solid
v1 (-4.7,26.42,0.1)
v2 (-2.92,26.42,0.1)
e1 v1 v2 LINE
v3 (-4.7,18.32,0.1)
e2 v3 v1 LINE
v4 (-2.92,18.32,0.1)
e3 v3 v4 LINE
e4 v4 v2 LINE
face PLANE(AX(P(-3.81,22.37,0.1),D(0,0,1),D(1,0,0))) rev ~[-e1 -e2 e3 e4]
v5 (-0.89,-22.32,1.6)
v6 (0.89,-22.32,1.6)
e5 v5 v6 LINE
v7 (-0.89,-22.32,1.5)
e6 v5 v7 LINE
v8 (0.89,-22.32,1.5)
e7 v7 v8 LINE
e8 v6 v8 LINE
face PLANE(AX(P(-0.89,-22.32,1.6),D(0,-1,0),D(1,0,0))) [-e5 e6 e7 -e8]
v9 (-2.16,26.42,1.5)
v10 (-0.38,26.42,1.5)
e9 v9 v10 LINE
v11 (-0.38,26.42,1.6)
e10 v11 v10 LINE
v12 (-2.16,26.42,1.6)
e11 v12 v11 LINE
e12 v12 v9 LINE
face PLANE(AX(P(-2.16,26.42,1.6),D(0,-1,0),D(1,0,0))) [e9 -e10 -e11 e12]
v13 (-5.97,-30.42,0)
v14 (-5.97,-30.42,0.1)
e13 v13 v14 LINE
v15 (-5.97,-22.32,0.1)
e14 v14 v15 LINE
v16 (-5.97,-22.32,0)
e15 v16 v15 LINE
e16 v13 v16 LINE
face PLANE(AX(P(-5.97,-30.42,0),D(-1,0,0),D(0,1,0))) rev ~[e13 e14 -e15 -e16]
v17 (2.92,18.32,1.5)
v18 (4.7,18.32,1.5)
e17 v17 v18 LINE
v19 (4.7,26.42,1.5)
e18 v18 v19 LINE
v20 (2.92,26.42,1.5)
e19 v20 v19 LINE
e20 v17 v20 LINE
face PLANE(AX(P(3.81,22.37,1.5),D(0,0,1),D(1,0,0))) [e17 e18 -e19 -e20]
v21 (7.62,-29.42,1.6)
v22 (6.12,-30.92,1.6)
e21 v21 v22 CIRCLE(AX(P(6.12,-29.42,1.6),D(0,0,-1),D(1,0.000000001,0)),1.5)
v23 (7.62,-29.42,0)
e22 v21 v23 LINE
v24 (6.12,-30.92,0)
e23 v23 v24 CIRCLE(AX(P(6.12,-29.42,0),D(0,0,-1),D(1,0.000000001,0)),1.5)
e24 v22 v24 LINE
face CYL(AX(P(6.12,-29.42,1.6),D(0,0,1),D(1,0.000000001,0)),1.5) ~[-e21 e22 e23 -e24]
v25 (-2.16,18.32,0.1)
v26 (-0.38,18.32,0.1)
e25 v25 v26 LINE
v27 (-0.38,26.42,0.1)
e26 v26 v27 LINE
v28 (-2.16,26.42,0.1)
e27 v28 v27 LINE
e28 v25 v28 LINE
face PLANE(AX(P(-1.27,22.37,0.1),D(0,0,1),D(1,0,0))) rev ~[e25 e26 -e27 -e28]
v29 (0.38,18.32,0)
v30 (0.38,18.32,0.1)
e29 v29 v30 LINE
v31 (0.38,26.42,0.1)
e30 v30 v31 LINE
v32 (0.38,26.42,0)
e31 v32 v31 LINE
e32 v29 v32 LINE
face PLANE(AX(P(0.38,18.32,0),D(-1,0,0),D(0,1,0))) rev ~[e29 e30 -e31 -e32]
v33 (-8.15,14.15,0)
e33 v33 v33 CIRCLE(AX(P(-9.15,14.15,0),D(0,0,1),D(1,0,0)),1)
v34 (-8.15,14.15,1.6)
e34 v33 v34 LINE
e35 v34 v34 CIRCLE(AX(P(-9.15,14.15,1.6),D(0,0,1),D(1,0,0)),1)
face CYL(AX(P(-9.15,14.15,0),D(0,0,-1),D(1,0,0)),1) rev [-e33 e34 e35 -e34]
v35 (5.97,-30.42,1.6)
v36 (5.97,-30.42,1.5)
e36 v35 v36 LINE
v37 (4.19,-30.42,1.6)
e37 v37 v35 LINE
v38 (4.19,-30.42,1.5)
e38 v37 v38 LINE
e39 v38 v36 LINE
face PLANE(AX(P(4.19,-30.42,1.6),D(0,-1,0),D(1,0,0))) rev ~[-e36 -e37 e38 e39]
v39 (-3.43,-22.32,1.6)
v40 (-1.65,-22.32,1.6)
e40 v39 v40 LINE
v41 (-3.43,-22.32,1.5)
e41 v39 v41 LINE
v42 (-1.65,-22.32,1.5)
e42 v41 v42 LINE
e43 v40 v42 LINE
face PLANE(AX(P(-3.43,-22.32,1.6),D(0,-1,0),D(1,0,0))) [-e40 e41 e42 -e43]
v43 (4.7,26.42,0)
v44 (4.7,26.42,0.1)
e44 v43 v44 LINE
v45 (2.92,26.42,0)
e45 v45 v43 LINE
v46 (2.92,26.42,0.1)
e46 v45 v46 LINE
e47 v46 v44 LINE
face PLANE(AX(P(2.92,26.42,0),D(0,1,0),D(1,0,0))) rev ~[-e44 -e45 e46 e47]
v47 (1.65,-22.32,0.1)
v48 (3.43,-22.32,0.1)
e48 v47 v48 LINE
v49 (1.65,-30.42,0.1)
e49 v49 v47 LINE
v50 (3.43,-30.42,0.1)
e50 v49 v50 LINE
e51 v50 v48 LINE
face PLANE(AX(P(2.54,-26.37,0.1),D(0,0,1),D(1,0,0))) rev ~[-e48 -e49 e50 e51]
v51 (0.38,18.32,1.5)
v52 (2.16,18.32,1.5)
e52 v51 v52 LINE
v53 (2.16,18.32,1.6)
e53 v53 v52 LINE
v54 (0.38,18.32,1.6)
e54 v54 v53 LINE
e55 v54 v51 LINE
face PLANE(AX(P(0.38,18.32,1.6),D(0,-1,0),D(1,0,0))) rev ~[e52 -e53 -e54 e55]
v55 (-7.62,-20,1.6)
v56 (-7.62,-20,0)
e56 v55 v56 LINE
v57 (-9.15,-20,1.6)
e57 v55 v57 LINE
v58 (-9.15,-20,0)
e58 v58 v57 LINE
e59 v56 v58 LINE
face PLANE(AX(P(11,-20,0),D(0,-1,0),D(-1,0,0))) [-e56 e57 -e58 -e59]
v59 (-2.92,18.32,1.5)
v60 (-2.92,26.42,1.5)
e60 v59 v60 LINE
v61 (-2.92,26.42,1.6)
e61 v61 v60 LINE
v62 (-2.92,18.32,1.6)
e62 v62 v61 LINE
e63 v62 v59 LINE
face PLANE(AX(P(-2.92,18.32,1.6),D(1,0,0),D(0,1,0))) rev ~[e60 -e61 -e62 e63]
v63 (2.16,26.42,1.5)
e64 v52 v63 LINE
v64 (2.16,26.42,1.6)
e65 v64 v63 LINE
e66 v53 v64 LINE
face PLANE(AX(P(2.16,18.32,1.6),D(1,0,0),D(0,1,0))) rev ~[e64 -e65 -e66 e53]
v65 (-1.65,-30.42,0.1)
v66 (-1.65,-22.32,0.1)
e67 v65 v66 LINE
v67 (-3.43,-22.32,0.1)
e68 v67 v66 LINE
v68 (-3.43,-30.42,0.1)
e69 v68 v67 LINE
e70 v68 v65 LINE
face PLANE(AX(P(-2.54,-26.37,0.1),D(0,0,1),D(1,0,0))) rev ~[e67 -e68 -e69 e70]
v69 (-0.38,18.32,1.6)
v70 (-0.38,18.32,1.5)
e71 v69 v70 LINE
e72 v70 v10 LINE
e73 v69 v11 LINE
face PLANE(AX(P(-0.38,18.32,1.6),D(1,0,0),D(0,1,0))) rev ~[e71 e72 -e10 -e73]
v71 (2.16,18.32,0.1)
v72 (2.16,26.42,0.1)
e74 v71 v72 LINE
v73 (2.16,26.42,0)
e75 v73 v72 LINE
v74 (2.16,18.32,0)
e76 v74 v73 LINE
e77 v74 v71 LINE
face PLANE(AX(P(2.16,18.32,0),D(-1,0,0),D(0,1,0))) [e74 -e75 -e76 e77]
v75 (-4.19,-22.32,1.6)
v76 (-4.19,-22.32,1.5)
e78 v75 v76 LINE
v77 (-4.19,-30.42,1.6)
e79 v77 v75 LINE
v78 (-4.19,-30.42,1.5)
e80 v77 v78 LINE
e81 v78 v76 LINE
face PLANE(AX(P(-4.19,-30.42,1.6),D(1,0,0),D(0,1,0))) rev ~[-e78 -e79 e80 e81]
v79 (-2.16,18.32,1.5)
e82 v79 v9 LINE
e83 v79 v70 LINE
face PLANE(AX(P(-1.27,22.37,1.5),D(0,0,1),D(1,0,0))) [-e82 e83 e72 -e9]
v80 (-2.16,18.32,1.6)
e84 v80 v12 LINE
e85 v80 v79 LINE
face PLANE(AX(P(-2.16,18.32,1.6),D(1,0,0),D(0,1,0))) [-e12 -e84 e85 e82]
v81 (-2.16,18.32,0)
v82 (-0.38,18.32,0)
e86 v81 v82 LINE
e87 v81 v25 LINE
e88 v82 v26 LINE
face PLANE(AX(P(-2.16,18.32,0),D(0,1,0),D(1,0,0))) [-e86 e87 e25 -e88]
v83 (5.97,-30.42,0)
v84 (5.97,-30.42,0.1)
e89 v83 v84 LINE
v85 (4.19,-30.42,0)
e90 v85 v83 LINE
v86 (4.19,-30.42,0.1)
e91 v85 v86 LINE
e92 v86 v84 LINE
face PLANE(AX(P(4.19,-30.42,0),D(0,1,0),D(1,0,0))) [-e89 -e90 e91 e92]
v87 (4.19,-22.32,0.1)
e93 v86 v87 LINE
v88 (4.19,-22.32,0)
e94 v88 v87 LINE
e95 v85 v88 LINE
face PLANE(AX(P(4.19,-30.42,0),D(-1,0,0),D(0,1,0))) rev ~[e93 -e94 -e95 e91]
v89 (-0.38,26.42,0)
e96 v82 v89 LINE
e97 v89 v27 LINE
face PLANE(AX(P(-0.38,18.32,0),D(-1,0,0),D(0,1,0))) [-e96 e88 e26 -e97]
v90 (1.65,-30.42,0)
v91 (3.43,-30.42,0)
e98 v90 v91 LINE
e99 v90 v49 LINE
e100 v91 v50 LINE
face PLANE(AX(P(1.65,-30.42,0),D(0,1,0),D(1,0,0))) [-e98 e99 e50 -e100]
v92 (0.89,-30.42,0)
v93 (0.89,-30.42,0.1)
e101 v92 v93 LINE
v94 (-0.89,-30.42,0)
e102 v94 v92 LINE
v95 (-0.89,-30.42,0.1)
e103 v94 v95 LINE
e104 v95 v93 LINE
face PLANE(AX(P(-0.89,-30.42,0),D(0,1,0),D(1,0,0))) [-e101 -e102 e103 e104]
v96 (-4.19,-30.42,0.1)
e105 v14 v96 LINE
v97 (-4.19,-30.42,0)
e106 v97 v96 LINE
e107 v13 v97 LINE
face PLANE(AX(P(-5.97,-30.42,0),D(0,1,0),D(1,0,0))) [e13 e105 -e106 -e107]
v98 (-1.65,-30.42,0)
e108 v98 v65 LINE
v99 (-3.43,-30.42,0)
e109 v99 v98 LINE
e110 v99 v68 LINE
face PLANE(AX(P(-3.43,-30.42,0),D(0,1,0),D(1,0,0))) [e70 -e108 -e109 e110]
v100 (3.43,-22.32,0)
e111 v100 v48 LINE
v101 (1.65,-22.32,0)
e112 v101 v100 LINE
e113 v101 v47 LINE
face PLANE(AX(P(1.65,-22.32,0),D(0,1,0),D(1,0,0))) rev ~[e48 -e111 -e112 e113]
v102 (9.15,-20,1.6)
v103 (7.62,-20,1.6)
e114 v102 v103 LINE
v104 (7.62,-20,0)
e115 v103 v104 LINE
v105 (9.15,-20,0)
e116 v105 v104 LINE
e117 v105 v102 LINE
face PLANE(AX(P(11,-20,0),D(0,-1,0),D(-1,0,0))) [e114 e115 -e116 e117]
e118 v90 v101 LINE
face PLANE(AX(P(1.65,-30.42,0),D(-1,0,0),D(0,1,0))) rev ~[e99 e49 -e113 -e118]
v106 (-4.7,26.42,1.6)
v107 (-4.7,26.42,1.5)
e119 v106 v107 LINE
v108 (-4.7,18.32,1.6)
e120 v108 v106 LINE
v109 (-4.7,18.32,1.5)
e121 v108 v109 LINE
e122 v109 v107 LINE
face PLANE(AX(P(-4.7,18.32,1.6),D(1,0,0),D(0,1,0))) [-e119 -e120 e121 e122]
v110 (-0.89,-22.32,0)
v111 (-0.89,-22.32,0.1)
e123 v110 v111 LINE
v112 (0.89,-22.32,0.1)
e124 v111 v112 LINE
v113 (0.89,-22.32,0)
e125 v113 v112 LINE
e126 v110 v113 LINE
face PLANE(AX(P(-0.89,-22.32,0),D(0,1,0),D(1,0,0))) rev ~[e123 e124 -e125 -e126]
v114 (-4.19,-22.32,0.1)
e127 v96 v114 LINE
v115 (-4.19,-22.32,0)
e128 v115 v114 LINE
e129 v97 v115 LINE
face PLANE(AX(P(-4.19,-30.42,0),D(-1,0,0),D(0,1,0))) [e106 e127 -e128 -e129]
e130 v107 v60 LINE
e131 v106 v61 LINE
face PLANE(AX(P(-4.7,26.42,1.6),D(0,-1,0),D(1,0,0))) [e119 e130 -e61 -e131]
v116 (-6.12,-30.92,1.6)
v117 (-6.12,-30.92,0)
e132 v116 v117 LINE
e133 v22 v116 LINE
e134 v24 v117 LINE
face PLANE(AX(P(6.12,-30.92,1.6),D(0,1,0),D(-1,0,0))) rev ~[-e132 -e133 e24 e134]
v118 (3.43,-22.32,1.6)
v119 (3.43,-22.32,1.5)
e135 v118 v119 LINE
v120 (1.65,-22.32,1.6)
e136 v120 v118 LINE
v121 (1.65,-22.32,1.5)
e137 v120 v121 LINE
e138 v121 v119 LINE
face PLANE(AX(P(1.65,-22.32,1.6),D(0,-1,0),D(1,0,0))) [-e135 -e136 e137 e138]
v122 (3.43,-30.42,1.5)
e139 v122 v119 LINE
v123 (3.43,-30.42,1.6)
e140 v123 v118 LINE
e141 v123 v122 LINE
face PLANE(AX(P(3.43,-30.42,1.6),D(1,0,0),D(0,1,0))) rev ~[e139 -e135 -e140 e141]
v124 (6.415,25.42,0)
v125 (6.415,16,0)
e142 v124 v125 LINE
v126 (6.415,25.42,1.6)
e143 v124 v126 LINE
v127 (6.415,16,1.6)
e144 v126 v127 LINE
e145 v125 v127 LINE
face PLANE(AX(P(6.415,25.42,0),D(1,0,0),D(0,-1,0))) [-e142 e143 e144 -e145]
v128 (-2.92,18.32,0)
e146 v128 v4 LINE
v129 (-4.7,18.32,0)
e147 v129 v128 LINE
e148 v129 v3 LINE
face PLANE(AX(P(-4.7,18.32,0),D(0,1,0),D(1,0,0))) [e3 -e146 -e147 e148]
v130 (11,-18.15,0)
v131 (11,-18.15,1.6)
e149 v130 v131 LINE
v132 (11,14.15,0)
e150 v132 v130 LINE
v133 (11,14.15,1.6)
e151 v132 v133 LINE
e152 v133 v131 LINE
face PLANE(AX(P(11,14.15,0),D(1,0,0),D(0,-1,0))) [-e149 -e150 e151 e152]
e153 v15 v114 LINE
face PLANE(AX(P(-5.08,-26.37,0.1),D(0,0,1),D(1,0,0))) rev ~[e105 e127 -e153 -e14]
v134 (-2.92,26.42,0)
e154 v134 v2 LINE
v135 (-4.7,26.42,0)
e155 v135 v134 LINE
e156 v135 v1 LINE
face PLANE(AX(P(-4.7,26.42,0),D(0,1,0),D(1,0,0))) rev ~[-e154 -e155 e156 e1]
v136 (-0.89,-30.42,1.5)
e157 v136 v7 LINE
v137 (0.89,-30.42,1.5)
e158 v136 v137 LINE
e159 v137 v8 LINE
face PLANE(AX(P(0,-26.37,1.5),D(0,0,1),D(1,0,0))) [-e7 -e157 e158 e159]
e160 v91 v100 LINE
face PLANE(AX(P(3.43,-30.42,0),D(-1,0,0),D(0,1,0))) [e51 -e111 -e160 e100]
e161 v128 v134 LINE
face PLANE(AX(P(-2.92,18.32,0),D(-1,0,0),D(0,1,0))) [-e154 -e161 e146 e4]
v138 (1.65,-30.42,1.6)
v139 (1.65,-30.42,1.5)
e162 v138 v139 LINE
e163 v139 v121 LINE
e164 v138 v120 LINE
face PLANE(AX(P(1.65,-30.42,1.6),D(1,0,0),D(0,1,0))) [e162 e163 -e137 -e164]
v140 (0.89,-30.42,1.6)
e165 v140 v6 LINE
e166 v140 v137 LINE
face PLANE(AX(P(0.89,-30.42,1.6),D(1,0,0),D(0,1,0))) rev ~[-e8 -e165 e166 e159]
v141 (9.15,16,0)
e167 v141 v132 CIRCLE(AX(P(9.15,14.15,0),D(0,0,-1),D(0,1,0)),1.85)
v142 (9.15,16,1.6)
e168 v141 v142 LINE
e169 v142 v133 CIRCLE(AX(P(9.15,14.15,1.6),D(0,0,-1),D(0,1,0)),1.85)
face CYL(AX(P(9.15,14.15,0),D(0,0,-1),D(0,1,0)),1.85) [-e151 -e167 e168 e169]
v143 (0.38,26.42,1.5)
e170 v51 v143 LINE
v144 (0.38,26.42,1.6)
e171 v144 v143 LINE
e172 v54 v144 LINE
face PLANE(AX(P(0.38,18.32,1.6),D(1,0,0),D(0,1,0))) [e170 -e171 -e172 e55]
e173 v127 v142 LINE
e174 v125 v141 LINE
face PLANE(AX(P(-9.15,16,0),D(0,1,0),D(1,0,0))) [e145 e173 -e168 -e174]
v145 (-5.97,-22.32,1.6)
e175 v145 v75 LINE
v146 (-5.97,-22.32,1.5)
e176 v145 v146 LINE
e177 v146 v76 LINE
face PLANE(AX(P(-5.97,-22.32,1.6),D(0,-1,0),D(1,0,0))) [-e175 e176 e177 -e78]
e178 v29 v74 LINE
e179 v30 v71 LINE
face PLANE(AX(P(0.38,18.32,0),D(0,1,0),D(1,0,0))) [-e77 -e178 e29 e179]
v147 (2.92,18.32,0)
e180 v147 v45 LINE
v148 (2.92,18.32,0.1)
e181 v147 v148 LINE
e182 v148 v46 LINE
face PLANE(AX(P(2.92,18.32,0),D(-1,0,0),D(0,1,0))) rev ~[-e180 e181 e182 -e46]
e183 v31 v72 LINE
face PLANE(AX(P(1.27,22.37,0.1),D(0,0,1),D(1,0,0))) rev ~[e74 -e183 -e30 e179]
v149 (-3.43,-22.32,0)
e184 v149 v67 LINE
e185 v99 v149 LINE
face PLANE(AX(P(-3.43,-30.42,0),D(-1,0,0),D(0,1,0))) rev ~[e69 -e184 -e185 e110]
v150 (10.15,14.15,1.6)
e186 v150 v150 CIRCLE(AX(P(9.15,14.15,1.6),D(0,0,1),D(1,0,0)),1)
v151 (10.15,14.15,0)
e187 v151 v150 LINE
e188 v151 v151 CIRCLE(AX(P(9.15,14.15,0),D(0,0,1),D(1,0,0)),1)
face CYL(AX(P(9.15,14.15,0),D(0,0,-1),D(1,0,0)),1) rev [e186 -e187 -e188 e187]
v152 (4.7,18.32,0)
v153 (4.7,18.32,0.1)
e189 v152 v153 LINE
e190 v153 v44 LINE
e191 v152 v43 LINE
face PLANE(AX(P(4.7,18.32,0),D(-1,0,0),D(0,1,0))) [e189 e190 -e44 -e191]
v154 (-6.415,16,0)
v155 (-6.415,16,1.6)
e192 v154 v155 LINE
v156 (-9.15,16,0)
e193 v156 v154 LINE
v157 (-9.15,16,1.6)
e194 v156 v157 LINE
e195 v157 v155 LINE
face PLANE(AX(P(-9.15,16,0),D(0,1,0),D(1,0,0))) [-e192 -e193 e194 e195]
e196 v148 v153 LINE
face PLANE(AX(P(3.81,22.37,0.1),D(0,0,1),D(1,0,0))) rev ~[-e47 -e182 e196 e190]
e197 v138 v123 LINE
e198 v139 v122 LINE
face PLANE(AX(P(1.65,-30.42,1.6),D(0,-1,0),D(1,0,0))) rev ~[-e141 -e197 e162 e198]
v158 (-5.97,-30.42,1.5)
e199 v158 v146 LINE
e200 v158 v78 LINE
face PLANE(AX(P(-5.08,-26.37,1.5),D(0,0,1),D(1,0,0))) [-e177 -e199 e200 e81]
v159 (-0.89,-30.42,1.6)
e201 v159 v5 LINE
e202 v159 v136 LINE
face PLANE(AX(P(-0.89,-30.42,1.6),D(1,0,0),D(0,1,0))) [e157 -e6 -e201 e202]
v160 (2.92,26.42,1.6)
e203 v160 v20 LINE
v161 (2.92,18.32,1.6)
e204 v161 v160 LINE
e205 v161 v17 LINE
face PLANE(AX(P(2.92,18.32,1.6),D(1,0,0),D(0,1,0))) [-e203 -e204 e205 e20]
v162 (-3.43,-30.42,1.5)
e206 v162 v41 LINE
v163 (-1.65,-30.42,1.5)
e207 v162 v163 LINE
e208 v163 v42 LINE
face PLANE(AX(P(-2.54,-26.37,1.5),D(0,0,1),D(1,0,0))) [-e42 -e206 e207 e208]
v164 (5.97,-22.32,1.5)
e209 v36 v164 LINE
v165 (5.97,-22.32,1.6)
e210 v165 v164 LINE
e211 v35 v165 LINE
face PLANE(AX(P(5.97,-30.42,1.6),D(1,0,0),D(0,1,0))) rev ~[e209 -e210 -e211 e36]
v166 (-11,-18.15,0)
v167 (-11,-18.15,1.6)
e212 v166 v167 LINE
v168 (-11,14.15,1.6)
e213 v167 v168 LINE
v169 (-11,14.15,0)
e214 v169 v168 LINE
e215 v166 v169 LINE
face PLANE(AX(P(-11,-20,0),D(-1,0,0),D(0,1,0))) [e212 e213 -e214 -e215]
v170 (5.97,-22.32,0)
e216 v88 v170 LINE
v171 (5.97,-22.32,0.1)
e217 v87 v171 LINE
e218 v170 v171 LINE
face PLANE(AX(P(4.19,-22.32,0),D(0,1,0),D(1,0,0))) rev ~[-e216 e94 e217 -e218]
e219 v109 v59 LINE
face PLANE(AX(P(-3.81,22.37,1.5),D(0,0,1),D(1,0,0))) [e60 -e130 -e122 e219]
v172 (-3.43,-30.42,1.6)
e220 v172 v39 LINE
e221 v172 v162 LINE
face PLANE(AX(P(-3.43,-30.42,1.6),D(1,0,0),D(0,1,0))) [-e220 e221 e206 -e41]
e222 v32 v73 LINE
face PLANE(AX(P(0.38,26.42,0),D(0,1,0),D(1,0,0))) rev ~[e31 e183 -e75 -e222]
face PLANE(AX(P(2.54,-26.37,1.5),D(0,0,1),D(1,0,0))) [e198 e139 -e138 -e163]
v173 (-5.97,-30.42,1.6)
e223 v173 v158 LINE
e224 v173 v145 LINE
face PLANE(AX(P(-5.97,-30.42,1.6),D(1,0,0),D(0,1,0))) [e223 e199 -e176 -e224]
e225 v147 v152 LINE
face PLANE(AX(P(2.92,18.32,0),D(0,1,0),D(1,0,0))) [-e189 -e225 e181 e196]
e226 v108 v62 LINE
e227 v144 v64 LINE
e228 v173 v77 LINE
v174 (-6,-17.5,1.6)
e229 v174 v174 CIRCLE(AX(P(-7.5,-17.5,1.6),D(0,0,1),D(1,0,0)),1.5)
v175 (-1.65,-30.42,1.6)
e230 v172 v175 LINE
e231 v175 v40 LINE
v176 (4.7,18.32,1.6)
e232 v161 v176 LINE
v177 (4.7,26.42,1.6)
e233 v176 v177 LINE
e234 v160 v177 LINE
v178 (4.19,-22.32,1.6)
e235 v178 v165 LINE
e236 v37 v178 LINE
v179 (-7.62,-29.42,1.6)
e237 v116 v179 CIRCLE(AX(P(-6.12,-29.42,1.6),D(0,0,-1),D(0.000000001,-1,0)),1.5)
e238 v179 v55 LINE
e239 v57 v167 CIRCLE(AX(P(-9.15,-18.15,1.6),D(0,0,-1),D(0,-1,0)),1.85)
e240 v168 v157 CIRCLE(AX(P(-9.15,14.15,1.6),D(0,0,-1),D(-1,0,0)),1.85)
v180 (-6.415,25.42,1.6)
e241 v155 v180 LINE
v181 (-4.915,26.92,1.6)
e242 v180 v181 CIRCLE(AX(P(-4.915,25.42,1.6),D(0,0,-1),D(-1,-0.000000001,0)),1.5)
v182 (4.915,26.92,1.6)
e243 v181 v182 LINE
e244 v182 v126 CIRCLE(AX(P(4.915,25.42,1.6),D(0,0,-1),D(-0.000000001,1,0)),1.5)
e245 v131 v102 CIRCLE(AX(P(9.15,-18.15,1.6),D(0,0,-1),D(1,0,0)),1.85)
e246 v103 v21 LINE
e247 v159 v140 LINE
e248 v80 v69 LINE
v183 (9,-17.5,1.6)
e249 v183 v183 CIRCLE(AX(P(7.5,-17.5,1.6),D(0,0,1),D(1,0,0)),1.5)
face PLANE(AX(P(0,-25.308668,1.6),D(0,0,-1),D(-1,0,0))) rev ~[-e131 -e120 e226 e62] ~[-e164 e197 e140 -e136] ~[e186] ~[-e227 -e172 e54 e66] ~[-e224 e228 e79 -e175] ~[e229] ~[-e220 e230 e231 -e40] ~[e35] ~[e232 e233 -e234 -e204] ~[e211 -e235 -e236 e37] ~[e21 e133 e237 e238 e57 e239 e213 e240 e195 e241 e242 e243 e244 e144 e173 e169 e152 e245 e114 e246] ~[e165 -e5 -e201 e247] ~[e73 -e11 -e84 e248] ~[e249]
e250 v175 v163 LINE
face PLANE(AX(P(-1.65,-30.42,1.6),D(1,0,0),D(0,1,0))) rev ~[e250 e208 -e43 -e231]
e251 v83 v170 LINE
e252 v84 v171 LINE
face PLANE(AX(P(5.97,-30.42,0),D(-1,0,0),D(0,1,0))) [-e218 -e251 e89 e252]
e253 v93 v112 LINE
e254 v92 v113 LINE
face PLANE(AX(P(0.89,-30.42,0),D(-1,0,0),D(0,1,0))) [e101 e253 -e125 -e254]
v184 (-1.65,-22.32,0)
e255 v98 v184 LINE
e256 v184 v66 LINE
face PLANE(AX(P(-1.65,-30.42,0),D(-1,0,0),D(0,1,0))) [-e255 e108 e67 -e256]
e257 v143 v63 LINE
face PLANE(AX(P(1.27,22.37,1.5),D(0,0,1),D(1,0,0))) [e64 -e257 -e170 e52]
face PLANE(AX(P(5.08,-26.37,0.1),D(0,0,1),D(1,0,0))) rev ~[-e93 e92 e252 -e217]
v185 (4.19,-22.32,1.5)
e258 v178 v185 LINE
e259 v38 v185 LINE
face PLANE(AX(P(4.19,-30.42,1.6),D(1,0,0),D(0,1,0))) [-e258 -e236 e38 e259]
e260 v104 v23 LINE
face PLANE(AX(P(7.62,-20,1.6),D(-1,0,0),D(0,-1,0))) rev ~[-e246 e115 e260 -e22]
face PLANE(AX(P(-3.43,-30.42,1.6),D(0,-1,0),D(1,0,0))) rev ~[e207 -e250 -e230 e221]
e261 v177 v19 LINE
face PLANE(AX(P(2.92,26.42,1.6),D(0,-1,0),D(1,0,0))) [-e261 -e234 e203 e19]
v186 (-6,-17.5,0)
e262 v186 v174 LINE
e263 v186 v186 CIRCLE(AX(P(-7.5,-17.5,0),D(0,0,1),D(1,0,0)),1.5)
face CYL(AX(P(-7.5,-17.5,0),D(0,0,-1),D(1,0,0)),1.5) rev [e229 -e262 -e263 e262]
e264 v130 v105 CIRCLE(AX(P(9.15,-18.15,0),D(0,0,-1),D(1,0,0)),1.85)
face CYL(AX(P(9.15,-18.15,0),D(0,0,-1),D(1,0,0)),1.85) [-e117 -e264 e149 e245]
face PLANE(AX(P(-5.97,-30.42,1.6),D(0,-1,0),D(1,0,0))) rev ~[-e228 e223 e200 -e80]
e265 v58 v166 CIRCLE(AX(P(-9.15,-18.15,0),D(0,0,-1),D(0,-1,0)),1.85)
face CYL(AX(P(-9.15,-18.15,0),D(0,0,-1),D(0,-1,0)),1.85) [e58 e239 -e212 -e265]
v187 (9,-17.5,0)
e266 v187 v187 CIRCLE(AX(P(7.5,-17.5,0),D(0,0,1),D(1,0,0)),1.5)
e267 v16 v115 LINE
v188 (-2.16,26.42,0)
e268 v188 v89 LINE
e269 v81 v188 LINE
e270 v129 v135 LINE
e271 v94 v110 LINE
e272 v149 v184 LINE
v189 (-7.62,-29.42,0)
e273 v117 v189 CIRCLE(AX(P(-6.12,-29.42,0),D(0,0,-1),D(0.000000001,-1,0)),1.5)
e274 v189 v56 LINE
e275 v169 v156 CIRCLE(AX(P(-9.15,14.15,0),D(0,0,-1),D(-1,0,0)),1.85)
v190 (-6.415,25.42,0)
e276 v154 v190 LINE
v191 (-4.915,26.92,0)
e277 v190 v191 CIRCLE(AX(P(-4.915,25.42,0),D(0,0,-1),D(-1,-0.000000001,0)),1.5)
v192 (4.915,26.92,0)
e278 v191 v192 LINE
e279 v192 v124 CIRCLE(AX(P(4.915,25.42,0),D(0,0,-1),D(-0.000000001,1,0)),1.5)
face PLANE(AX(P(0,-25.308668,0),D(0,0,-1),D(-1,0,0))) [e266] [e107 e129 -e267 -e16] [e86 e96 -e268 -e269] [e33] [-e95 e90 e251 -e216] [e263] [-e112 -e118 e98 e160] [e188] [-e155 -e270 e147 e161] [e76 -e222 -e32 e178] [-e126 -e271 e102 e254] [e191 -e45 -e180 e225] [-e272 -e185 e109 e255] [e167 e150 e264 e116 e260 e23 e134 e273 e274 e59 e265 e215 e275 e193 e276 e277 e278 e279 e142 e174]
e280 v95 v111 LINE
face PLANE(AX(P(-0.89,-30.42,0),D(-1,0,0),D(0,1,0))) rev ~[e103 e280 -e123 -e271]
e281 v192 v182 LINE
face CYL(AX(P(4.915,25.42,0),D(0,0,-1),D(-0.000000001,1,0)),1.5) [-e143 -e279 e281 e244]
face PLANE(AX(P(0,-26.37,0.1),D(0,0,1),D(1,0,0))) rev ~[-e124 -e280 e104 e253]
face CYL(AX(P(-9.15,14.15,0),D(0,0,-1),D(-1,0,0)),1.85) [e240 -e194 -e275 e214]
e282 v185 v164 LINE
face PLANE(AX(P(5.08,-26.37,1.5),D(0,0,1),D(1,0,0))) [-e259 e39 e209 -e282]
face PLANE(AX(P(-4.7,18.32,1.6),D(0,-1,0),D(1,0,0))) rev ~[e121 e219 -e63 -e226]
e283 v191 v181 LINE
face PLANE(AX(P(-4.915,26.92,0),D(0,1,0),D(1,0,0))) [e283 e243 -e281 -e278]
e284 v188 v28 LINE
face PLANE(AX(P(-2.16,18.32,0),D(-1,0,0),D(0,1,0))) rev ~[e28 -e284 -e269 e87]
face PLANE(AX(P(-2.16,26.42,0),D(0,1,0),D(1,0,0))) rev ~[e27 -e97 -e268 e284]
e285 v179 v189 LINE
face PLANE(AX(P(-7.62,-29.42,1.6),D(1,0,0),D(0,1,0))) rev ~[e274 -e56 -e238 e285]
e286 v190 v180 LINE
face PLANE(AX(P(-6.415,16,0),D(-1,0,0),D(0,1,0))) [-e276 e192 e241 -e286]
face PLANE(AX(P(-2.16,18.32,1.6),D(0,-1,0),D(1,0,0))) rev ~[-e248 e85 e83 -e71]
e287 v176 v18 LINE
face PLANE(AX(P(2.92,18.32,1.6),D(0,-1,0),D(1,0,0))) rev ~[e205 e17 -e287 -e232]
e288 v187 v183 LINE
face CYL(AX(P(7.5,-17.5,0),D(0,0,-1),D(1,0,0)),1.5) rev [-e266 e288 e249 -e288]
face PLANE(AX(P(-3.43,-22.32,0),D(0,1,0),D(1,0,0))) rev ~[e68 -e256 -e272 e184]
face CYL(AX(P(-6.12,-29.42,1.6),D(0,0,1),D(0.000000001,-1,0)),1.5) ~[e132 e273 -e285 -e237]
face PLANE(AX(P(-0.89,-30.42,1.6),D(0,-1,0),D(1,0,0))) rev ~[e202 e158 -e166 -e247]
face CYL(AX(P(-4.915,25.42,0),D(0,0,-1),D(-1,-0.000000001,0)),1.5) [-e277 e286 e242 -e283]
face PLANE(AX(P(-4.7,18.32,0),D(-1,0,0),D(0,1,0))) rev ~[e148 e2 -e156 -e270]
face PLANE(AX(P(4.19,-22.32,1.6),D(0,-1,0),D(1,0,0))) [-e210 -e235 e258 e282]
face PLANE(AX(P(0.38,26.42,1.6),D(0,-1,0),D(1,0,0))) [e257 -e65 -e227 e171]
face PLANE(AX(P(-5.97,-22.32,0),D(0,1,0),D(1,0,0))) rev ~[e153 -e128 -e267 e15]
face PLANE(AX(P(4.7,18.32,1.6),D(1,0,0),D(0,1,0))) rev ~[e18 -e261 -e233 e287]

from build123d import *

# Parameters (mm, degrees)
SKETCH_1_R          = 1
EXTRUDE_1_DEPTH     = 1.6
SKETCH_3_R          = 1.5
CUT_EXTRUDE_1_DEPTH = 1.6
CUT_EXTRUDE_2_DEPTH = 1.6
EXTRUDE_2_DEPTH     = 1.6
SKETCH_8_W          = 1.78
SKETCH_8_H          = 8.1
CUT_EXTRUDE_3_DEPTH = 0.1
CUT_EXTRUDE_START   = 1.6
SKETCH_9_W          = 1.78
SKETCH_9_H          = 8.1
CUT_EXTRUDE_4_DEPTH = 0.1
EXTRUDE_START       = 1.6
EXTRUDE_3_DEPTH     = 1.6
SKETCH_12_W         = 1.78
SKETCH_12_H         = 8.1
CUT_EXTRUDE_5_DEPTH = 0.1
SKETCH_13_W         = 1.78
SKETCH_13_H         = 8.1
CUT_EXTRUDE_6_DEPTH = 0.1


with BuildPart() as part:
    # 草图1 → 凸台-拉伸1 (new body)
    with BuildSketch(Plane.XY):
        with BuildLine():
            Line((-9.15, 16), (9.15, 16))
            ThreePointArc((9.15, 16), (10.458147545, 15.458147545), (11, 14.15))
            Line((11, 14.15), (11, -20))
            Line((11, -20), (-11, -20))
            Line((-11, -20), (-11, 14.15))
            ThreePointArc((-11, 14.15), (-10.458147545, 15.458147545), (-9.15, 16))
        make_face()
        with Locations((-9.15, 14.15)):
            Circle(SKETCH_1_R, mode=Mode.SUBTRACT)
        with Locations((9.15, 14.15)):
            Circle(SKETCH_1_R, mode=Mode.SUBTRACT)
    extrude(amount=EXTRUDE_1_DEPTH)

    # 草图3 → 切除-拉伸1 (cut)
    with BuildSketch(Plane.XY):
        with Locations((-7.5, -17.5)):
            Circle(SKETCH_3_R)
        with Locations((7.5, -17.5)):
            Circle(SKETCH_3_R)
    extrude(amount=CUT_EXTRUDE_1_DEPTH, mode=Mode.SUBTRACT)

    # 草图5 → 切除-拉伸2 (cut)
    with BuildSketch(Plane.XY):
        with BuildLine():
            Line((11, -20), (11, -18.15))
            ThreePointArc((11, -18.15), (10.458147545, -19.458147545), (9.15, -20))
            Line((9.15, -20), (11, -20))
        make_face()
        with BuildLine():
            Line((-11, -20), (-9.15, -20))
            ThreePointArc((-9.15, -20), (-10.458147545, -19.458147545), (-11, -18.15))
            Line((-11, -18.15), (-11, -20))
        make_face()
    extrude(amount=CUT_EXTRUDE_2_DEPTH, mode=Mode.SUBTRACT)

    # 草图7 → 凸台-拉伸2 (add)
    with BuildSketch(Plane.XY):
        with BuildLine():
            Line((-4.915, 26.92), (4.915, 26.92))
            ThreePointArc((4.915, 26.92), (5.975660172, 26.480660172), (6.415, 25.42))
            Line((6.415, 25.42), (6.415, 16))
            Line((6.415, 16), (-6.415, 16))
            Line((-6.415, 16), (-6.415, 25.42))
            ThreePointArc((-6.415, 25.42), (-5.975660172, 26.480660172), (-4.915, 26.92))
        make_face()
        with BuildLine():
            Line((-6.415, -20), (6.415, -20))
            Line((6.415, -20), (6.415, -29.42))
            ThreePointArc((6.415, -29.42), (5.975660172, -30.480660172), (4.915, -30.92))
            Line((4.915, -30.92), (-4.915, -30.92))
            ThreePointArc((-4.915, -30.92), (-5.975660172, -30.480660172), (-6.415, -29.42))
            Line((-6.415, -29.42), (-6.415, -20))
        make_face()
    extrude(amount=EXTRUDE_2_DEPTH)

    # 草图8 → 切除-拉伸3 (cut)
    with BuildSketch(Plane.XY):
        with Locations((-1.27, 22.37)):
            Rectangle(SKETCH_8_W, SKETCH_8_H)
        with Locations((-3.81, 22.37)):
            Rectangle(SKETCH_8_W, SKETCH_8_H)
        with Locations((3.81, 22.37)):
            Rectangle(SKETCH_8_W, SKETCH_8_H)
        with Locations((1.27, 22.37)):
            Rectangle(SKETCH_8_W, SKETCH_8_H)
        with Locations((1.27, -26.37)):
            Rectangle(SKETCH_8_W, SKETCH_8_H)
        with Locations((3.81, -26.37)):
            Rectangle(SKETCH_8_W, SKETCH_8_H)
        with Locations((-3.81, -26.37)):
            Rectangle(SKETCH_8_W, SKETCH_8_H)
        with Locations((-1.27, -26.37)):
            Rectangle(SKETCH_8_W, SKETCH_8_H)
    extrude(amount=CUT_EXTRUDE_3_DEPTH, mode=Mode.SUBTRACT)

    # 草图9 → 切除-拉伸4 (cut)
    with BuildSketch(Plane.XY.offset(CUT_EXTRUDE_START)):
        with Locations((-1.27, 22.37)):
            Rectangle(SKETCH_9_W, SKETCH_9_H)
        with Locations((1.27, 22.37)):
            Rectangle(SKETCH_9_W, SKETCH_9_H)
        with Locations((3.81, 22.37)):
            Rectangle(SKETCH_9_W, SKETCH_9_H)
        with Locations((-3.81, 22.37)):
            Rectangle(SKETCH_9_W, SKETCH_9_H)
        with Locations((-1.27, -26.37)):
            Rectangle(SKETCH_9_W, SKETCH_9_H)
        with Locations((-3.81, -26.37)):
            Rectangle(SKETCH_9_W, SKETCH_9_H)
        with Locations((3.81, -26.37)):
            Rectangle(SKETCH_9_W, SKETCH_9_H)
        with Locations((1.27, -26.37)):
            Rectangle(SKETCH_9_W, SKETCH_9_H)
    extrude(amount=-CUT_EXTRUDE_4_DEPTH, mode=Mode.SUBTRACT)

    # 草图11 → 凸台-拉伸3 (add)
    with BuildSketch(Plane.XY.offset(EXTRUDE_START)):
        with BuildLine():
            Line((-7.62, -20), (7.62, -20))
            Line((7.62, -20), (7.62, -29.42))
            ThreePointArc((7.62, -29.42), (7.180660172, -30.480660172), (6.12, -30.92))
            Line((6.12, -30.92), (-6.12, -30.92))
            ThreePointArc((-6.12, -30.92), (-7.180660172, -30.480660172), (-7.62, -29.42))
            Line((-7.62, -29.42), (-7.62, -20))
        make_face()
    extrude(amount=-EXTRUDE_3_DEPTH)

    # 草图12 → 切除-拉伸5 (cut)
    with BuildSketch(Plane.XY):
        with Locations((0, -26.37)):
            Rectangle(SKETCH_12_W, SKETCH_12_H)
        with Locations((2.54, -26.37)):
            Rectangle(SKETCH_12_W, SKETCH_12_H)
        with Locations((5.08, -26.37)):
            Rectangle(SKETCH_12_W, SKETCH_12_H)
        with Locations((-2.54, -26.37)):
            Rectangle(SKETCH_12_W, SKETCH_12_H)
        with Locations((-5.08, -26.37)):
            Rectangle(SKETCH_12_W, SKETCH_12_H)
    extrude(amount=CUT_EXTRUDE_5_DEPTH, mode=Mode.SUBTRACT)

    # 草图13 → 切除-拉伸6 (cut)
    with BuildSketch(Plane.XY.offset(CUT_EXTRUDE_START)):
        with Locations((2.54, -26.37)):
            Rectangle(SKETCH_13_W, SKETCH_13_H)
        with Locations((0, -26.37)):
            Rectangle(SKETCH_13_W, SKETCH_13_H)
        with Locations((-5.08, -26.37)):
            Rectangle(SKETCH_13_W, SKETCH_13_H)
        with Locations((-2.54, -26.37)):
            Rectangle(SKETCH_13_W, SKETCH_13_H)
        with Locations((5.08, -26.37)):
            Rectangle(SKETCH_13_W, SKETCH_13_H)
    extrude(amount=-CUT_EXTRUDE_6_DEPTH, mode=Mode.SUBTRACT)


solid = part.part
